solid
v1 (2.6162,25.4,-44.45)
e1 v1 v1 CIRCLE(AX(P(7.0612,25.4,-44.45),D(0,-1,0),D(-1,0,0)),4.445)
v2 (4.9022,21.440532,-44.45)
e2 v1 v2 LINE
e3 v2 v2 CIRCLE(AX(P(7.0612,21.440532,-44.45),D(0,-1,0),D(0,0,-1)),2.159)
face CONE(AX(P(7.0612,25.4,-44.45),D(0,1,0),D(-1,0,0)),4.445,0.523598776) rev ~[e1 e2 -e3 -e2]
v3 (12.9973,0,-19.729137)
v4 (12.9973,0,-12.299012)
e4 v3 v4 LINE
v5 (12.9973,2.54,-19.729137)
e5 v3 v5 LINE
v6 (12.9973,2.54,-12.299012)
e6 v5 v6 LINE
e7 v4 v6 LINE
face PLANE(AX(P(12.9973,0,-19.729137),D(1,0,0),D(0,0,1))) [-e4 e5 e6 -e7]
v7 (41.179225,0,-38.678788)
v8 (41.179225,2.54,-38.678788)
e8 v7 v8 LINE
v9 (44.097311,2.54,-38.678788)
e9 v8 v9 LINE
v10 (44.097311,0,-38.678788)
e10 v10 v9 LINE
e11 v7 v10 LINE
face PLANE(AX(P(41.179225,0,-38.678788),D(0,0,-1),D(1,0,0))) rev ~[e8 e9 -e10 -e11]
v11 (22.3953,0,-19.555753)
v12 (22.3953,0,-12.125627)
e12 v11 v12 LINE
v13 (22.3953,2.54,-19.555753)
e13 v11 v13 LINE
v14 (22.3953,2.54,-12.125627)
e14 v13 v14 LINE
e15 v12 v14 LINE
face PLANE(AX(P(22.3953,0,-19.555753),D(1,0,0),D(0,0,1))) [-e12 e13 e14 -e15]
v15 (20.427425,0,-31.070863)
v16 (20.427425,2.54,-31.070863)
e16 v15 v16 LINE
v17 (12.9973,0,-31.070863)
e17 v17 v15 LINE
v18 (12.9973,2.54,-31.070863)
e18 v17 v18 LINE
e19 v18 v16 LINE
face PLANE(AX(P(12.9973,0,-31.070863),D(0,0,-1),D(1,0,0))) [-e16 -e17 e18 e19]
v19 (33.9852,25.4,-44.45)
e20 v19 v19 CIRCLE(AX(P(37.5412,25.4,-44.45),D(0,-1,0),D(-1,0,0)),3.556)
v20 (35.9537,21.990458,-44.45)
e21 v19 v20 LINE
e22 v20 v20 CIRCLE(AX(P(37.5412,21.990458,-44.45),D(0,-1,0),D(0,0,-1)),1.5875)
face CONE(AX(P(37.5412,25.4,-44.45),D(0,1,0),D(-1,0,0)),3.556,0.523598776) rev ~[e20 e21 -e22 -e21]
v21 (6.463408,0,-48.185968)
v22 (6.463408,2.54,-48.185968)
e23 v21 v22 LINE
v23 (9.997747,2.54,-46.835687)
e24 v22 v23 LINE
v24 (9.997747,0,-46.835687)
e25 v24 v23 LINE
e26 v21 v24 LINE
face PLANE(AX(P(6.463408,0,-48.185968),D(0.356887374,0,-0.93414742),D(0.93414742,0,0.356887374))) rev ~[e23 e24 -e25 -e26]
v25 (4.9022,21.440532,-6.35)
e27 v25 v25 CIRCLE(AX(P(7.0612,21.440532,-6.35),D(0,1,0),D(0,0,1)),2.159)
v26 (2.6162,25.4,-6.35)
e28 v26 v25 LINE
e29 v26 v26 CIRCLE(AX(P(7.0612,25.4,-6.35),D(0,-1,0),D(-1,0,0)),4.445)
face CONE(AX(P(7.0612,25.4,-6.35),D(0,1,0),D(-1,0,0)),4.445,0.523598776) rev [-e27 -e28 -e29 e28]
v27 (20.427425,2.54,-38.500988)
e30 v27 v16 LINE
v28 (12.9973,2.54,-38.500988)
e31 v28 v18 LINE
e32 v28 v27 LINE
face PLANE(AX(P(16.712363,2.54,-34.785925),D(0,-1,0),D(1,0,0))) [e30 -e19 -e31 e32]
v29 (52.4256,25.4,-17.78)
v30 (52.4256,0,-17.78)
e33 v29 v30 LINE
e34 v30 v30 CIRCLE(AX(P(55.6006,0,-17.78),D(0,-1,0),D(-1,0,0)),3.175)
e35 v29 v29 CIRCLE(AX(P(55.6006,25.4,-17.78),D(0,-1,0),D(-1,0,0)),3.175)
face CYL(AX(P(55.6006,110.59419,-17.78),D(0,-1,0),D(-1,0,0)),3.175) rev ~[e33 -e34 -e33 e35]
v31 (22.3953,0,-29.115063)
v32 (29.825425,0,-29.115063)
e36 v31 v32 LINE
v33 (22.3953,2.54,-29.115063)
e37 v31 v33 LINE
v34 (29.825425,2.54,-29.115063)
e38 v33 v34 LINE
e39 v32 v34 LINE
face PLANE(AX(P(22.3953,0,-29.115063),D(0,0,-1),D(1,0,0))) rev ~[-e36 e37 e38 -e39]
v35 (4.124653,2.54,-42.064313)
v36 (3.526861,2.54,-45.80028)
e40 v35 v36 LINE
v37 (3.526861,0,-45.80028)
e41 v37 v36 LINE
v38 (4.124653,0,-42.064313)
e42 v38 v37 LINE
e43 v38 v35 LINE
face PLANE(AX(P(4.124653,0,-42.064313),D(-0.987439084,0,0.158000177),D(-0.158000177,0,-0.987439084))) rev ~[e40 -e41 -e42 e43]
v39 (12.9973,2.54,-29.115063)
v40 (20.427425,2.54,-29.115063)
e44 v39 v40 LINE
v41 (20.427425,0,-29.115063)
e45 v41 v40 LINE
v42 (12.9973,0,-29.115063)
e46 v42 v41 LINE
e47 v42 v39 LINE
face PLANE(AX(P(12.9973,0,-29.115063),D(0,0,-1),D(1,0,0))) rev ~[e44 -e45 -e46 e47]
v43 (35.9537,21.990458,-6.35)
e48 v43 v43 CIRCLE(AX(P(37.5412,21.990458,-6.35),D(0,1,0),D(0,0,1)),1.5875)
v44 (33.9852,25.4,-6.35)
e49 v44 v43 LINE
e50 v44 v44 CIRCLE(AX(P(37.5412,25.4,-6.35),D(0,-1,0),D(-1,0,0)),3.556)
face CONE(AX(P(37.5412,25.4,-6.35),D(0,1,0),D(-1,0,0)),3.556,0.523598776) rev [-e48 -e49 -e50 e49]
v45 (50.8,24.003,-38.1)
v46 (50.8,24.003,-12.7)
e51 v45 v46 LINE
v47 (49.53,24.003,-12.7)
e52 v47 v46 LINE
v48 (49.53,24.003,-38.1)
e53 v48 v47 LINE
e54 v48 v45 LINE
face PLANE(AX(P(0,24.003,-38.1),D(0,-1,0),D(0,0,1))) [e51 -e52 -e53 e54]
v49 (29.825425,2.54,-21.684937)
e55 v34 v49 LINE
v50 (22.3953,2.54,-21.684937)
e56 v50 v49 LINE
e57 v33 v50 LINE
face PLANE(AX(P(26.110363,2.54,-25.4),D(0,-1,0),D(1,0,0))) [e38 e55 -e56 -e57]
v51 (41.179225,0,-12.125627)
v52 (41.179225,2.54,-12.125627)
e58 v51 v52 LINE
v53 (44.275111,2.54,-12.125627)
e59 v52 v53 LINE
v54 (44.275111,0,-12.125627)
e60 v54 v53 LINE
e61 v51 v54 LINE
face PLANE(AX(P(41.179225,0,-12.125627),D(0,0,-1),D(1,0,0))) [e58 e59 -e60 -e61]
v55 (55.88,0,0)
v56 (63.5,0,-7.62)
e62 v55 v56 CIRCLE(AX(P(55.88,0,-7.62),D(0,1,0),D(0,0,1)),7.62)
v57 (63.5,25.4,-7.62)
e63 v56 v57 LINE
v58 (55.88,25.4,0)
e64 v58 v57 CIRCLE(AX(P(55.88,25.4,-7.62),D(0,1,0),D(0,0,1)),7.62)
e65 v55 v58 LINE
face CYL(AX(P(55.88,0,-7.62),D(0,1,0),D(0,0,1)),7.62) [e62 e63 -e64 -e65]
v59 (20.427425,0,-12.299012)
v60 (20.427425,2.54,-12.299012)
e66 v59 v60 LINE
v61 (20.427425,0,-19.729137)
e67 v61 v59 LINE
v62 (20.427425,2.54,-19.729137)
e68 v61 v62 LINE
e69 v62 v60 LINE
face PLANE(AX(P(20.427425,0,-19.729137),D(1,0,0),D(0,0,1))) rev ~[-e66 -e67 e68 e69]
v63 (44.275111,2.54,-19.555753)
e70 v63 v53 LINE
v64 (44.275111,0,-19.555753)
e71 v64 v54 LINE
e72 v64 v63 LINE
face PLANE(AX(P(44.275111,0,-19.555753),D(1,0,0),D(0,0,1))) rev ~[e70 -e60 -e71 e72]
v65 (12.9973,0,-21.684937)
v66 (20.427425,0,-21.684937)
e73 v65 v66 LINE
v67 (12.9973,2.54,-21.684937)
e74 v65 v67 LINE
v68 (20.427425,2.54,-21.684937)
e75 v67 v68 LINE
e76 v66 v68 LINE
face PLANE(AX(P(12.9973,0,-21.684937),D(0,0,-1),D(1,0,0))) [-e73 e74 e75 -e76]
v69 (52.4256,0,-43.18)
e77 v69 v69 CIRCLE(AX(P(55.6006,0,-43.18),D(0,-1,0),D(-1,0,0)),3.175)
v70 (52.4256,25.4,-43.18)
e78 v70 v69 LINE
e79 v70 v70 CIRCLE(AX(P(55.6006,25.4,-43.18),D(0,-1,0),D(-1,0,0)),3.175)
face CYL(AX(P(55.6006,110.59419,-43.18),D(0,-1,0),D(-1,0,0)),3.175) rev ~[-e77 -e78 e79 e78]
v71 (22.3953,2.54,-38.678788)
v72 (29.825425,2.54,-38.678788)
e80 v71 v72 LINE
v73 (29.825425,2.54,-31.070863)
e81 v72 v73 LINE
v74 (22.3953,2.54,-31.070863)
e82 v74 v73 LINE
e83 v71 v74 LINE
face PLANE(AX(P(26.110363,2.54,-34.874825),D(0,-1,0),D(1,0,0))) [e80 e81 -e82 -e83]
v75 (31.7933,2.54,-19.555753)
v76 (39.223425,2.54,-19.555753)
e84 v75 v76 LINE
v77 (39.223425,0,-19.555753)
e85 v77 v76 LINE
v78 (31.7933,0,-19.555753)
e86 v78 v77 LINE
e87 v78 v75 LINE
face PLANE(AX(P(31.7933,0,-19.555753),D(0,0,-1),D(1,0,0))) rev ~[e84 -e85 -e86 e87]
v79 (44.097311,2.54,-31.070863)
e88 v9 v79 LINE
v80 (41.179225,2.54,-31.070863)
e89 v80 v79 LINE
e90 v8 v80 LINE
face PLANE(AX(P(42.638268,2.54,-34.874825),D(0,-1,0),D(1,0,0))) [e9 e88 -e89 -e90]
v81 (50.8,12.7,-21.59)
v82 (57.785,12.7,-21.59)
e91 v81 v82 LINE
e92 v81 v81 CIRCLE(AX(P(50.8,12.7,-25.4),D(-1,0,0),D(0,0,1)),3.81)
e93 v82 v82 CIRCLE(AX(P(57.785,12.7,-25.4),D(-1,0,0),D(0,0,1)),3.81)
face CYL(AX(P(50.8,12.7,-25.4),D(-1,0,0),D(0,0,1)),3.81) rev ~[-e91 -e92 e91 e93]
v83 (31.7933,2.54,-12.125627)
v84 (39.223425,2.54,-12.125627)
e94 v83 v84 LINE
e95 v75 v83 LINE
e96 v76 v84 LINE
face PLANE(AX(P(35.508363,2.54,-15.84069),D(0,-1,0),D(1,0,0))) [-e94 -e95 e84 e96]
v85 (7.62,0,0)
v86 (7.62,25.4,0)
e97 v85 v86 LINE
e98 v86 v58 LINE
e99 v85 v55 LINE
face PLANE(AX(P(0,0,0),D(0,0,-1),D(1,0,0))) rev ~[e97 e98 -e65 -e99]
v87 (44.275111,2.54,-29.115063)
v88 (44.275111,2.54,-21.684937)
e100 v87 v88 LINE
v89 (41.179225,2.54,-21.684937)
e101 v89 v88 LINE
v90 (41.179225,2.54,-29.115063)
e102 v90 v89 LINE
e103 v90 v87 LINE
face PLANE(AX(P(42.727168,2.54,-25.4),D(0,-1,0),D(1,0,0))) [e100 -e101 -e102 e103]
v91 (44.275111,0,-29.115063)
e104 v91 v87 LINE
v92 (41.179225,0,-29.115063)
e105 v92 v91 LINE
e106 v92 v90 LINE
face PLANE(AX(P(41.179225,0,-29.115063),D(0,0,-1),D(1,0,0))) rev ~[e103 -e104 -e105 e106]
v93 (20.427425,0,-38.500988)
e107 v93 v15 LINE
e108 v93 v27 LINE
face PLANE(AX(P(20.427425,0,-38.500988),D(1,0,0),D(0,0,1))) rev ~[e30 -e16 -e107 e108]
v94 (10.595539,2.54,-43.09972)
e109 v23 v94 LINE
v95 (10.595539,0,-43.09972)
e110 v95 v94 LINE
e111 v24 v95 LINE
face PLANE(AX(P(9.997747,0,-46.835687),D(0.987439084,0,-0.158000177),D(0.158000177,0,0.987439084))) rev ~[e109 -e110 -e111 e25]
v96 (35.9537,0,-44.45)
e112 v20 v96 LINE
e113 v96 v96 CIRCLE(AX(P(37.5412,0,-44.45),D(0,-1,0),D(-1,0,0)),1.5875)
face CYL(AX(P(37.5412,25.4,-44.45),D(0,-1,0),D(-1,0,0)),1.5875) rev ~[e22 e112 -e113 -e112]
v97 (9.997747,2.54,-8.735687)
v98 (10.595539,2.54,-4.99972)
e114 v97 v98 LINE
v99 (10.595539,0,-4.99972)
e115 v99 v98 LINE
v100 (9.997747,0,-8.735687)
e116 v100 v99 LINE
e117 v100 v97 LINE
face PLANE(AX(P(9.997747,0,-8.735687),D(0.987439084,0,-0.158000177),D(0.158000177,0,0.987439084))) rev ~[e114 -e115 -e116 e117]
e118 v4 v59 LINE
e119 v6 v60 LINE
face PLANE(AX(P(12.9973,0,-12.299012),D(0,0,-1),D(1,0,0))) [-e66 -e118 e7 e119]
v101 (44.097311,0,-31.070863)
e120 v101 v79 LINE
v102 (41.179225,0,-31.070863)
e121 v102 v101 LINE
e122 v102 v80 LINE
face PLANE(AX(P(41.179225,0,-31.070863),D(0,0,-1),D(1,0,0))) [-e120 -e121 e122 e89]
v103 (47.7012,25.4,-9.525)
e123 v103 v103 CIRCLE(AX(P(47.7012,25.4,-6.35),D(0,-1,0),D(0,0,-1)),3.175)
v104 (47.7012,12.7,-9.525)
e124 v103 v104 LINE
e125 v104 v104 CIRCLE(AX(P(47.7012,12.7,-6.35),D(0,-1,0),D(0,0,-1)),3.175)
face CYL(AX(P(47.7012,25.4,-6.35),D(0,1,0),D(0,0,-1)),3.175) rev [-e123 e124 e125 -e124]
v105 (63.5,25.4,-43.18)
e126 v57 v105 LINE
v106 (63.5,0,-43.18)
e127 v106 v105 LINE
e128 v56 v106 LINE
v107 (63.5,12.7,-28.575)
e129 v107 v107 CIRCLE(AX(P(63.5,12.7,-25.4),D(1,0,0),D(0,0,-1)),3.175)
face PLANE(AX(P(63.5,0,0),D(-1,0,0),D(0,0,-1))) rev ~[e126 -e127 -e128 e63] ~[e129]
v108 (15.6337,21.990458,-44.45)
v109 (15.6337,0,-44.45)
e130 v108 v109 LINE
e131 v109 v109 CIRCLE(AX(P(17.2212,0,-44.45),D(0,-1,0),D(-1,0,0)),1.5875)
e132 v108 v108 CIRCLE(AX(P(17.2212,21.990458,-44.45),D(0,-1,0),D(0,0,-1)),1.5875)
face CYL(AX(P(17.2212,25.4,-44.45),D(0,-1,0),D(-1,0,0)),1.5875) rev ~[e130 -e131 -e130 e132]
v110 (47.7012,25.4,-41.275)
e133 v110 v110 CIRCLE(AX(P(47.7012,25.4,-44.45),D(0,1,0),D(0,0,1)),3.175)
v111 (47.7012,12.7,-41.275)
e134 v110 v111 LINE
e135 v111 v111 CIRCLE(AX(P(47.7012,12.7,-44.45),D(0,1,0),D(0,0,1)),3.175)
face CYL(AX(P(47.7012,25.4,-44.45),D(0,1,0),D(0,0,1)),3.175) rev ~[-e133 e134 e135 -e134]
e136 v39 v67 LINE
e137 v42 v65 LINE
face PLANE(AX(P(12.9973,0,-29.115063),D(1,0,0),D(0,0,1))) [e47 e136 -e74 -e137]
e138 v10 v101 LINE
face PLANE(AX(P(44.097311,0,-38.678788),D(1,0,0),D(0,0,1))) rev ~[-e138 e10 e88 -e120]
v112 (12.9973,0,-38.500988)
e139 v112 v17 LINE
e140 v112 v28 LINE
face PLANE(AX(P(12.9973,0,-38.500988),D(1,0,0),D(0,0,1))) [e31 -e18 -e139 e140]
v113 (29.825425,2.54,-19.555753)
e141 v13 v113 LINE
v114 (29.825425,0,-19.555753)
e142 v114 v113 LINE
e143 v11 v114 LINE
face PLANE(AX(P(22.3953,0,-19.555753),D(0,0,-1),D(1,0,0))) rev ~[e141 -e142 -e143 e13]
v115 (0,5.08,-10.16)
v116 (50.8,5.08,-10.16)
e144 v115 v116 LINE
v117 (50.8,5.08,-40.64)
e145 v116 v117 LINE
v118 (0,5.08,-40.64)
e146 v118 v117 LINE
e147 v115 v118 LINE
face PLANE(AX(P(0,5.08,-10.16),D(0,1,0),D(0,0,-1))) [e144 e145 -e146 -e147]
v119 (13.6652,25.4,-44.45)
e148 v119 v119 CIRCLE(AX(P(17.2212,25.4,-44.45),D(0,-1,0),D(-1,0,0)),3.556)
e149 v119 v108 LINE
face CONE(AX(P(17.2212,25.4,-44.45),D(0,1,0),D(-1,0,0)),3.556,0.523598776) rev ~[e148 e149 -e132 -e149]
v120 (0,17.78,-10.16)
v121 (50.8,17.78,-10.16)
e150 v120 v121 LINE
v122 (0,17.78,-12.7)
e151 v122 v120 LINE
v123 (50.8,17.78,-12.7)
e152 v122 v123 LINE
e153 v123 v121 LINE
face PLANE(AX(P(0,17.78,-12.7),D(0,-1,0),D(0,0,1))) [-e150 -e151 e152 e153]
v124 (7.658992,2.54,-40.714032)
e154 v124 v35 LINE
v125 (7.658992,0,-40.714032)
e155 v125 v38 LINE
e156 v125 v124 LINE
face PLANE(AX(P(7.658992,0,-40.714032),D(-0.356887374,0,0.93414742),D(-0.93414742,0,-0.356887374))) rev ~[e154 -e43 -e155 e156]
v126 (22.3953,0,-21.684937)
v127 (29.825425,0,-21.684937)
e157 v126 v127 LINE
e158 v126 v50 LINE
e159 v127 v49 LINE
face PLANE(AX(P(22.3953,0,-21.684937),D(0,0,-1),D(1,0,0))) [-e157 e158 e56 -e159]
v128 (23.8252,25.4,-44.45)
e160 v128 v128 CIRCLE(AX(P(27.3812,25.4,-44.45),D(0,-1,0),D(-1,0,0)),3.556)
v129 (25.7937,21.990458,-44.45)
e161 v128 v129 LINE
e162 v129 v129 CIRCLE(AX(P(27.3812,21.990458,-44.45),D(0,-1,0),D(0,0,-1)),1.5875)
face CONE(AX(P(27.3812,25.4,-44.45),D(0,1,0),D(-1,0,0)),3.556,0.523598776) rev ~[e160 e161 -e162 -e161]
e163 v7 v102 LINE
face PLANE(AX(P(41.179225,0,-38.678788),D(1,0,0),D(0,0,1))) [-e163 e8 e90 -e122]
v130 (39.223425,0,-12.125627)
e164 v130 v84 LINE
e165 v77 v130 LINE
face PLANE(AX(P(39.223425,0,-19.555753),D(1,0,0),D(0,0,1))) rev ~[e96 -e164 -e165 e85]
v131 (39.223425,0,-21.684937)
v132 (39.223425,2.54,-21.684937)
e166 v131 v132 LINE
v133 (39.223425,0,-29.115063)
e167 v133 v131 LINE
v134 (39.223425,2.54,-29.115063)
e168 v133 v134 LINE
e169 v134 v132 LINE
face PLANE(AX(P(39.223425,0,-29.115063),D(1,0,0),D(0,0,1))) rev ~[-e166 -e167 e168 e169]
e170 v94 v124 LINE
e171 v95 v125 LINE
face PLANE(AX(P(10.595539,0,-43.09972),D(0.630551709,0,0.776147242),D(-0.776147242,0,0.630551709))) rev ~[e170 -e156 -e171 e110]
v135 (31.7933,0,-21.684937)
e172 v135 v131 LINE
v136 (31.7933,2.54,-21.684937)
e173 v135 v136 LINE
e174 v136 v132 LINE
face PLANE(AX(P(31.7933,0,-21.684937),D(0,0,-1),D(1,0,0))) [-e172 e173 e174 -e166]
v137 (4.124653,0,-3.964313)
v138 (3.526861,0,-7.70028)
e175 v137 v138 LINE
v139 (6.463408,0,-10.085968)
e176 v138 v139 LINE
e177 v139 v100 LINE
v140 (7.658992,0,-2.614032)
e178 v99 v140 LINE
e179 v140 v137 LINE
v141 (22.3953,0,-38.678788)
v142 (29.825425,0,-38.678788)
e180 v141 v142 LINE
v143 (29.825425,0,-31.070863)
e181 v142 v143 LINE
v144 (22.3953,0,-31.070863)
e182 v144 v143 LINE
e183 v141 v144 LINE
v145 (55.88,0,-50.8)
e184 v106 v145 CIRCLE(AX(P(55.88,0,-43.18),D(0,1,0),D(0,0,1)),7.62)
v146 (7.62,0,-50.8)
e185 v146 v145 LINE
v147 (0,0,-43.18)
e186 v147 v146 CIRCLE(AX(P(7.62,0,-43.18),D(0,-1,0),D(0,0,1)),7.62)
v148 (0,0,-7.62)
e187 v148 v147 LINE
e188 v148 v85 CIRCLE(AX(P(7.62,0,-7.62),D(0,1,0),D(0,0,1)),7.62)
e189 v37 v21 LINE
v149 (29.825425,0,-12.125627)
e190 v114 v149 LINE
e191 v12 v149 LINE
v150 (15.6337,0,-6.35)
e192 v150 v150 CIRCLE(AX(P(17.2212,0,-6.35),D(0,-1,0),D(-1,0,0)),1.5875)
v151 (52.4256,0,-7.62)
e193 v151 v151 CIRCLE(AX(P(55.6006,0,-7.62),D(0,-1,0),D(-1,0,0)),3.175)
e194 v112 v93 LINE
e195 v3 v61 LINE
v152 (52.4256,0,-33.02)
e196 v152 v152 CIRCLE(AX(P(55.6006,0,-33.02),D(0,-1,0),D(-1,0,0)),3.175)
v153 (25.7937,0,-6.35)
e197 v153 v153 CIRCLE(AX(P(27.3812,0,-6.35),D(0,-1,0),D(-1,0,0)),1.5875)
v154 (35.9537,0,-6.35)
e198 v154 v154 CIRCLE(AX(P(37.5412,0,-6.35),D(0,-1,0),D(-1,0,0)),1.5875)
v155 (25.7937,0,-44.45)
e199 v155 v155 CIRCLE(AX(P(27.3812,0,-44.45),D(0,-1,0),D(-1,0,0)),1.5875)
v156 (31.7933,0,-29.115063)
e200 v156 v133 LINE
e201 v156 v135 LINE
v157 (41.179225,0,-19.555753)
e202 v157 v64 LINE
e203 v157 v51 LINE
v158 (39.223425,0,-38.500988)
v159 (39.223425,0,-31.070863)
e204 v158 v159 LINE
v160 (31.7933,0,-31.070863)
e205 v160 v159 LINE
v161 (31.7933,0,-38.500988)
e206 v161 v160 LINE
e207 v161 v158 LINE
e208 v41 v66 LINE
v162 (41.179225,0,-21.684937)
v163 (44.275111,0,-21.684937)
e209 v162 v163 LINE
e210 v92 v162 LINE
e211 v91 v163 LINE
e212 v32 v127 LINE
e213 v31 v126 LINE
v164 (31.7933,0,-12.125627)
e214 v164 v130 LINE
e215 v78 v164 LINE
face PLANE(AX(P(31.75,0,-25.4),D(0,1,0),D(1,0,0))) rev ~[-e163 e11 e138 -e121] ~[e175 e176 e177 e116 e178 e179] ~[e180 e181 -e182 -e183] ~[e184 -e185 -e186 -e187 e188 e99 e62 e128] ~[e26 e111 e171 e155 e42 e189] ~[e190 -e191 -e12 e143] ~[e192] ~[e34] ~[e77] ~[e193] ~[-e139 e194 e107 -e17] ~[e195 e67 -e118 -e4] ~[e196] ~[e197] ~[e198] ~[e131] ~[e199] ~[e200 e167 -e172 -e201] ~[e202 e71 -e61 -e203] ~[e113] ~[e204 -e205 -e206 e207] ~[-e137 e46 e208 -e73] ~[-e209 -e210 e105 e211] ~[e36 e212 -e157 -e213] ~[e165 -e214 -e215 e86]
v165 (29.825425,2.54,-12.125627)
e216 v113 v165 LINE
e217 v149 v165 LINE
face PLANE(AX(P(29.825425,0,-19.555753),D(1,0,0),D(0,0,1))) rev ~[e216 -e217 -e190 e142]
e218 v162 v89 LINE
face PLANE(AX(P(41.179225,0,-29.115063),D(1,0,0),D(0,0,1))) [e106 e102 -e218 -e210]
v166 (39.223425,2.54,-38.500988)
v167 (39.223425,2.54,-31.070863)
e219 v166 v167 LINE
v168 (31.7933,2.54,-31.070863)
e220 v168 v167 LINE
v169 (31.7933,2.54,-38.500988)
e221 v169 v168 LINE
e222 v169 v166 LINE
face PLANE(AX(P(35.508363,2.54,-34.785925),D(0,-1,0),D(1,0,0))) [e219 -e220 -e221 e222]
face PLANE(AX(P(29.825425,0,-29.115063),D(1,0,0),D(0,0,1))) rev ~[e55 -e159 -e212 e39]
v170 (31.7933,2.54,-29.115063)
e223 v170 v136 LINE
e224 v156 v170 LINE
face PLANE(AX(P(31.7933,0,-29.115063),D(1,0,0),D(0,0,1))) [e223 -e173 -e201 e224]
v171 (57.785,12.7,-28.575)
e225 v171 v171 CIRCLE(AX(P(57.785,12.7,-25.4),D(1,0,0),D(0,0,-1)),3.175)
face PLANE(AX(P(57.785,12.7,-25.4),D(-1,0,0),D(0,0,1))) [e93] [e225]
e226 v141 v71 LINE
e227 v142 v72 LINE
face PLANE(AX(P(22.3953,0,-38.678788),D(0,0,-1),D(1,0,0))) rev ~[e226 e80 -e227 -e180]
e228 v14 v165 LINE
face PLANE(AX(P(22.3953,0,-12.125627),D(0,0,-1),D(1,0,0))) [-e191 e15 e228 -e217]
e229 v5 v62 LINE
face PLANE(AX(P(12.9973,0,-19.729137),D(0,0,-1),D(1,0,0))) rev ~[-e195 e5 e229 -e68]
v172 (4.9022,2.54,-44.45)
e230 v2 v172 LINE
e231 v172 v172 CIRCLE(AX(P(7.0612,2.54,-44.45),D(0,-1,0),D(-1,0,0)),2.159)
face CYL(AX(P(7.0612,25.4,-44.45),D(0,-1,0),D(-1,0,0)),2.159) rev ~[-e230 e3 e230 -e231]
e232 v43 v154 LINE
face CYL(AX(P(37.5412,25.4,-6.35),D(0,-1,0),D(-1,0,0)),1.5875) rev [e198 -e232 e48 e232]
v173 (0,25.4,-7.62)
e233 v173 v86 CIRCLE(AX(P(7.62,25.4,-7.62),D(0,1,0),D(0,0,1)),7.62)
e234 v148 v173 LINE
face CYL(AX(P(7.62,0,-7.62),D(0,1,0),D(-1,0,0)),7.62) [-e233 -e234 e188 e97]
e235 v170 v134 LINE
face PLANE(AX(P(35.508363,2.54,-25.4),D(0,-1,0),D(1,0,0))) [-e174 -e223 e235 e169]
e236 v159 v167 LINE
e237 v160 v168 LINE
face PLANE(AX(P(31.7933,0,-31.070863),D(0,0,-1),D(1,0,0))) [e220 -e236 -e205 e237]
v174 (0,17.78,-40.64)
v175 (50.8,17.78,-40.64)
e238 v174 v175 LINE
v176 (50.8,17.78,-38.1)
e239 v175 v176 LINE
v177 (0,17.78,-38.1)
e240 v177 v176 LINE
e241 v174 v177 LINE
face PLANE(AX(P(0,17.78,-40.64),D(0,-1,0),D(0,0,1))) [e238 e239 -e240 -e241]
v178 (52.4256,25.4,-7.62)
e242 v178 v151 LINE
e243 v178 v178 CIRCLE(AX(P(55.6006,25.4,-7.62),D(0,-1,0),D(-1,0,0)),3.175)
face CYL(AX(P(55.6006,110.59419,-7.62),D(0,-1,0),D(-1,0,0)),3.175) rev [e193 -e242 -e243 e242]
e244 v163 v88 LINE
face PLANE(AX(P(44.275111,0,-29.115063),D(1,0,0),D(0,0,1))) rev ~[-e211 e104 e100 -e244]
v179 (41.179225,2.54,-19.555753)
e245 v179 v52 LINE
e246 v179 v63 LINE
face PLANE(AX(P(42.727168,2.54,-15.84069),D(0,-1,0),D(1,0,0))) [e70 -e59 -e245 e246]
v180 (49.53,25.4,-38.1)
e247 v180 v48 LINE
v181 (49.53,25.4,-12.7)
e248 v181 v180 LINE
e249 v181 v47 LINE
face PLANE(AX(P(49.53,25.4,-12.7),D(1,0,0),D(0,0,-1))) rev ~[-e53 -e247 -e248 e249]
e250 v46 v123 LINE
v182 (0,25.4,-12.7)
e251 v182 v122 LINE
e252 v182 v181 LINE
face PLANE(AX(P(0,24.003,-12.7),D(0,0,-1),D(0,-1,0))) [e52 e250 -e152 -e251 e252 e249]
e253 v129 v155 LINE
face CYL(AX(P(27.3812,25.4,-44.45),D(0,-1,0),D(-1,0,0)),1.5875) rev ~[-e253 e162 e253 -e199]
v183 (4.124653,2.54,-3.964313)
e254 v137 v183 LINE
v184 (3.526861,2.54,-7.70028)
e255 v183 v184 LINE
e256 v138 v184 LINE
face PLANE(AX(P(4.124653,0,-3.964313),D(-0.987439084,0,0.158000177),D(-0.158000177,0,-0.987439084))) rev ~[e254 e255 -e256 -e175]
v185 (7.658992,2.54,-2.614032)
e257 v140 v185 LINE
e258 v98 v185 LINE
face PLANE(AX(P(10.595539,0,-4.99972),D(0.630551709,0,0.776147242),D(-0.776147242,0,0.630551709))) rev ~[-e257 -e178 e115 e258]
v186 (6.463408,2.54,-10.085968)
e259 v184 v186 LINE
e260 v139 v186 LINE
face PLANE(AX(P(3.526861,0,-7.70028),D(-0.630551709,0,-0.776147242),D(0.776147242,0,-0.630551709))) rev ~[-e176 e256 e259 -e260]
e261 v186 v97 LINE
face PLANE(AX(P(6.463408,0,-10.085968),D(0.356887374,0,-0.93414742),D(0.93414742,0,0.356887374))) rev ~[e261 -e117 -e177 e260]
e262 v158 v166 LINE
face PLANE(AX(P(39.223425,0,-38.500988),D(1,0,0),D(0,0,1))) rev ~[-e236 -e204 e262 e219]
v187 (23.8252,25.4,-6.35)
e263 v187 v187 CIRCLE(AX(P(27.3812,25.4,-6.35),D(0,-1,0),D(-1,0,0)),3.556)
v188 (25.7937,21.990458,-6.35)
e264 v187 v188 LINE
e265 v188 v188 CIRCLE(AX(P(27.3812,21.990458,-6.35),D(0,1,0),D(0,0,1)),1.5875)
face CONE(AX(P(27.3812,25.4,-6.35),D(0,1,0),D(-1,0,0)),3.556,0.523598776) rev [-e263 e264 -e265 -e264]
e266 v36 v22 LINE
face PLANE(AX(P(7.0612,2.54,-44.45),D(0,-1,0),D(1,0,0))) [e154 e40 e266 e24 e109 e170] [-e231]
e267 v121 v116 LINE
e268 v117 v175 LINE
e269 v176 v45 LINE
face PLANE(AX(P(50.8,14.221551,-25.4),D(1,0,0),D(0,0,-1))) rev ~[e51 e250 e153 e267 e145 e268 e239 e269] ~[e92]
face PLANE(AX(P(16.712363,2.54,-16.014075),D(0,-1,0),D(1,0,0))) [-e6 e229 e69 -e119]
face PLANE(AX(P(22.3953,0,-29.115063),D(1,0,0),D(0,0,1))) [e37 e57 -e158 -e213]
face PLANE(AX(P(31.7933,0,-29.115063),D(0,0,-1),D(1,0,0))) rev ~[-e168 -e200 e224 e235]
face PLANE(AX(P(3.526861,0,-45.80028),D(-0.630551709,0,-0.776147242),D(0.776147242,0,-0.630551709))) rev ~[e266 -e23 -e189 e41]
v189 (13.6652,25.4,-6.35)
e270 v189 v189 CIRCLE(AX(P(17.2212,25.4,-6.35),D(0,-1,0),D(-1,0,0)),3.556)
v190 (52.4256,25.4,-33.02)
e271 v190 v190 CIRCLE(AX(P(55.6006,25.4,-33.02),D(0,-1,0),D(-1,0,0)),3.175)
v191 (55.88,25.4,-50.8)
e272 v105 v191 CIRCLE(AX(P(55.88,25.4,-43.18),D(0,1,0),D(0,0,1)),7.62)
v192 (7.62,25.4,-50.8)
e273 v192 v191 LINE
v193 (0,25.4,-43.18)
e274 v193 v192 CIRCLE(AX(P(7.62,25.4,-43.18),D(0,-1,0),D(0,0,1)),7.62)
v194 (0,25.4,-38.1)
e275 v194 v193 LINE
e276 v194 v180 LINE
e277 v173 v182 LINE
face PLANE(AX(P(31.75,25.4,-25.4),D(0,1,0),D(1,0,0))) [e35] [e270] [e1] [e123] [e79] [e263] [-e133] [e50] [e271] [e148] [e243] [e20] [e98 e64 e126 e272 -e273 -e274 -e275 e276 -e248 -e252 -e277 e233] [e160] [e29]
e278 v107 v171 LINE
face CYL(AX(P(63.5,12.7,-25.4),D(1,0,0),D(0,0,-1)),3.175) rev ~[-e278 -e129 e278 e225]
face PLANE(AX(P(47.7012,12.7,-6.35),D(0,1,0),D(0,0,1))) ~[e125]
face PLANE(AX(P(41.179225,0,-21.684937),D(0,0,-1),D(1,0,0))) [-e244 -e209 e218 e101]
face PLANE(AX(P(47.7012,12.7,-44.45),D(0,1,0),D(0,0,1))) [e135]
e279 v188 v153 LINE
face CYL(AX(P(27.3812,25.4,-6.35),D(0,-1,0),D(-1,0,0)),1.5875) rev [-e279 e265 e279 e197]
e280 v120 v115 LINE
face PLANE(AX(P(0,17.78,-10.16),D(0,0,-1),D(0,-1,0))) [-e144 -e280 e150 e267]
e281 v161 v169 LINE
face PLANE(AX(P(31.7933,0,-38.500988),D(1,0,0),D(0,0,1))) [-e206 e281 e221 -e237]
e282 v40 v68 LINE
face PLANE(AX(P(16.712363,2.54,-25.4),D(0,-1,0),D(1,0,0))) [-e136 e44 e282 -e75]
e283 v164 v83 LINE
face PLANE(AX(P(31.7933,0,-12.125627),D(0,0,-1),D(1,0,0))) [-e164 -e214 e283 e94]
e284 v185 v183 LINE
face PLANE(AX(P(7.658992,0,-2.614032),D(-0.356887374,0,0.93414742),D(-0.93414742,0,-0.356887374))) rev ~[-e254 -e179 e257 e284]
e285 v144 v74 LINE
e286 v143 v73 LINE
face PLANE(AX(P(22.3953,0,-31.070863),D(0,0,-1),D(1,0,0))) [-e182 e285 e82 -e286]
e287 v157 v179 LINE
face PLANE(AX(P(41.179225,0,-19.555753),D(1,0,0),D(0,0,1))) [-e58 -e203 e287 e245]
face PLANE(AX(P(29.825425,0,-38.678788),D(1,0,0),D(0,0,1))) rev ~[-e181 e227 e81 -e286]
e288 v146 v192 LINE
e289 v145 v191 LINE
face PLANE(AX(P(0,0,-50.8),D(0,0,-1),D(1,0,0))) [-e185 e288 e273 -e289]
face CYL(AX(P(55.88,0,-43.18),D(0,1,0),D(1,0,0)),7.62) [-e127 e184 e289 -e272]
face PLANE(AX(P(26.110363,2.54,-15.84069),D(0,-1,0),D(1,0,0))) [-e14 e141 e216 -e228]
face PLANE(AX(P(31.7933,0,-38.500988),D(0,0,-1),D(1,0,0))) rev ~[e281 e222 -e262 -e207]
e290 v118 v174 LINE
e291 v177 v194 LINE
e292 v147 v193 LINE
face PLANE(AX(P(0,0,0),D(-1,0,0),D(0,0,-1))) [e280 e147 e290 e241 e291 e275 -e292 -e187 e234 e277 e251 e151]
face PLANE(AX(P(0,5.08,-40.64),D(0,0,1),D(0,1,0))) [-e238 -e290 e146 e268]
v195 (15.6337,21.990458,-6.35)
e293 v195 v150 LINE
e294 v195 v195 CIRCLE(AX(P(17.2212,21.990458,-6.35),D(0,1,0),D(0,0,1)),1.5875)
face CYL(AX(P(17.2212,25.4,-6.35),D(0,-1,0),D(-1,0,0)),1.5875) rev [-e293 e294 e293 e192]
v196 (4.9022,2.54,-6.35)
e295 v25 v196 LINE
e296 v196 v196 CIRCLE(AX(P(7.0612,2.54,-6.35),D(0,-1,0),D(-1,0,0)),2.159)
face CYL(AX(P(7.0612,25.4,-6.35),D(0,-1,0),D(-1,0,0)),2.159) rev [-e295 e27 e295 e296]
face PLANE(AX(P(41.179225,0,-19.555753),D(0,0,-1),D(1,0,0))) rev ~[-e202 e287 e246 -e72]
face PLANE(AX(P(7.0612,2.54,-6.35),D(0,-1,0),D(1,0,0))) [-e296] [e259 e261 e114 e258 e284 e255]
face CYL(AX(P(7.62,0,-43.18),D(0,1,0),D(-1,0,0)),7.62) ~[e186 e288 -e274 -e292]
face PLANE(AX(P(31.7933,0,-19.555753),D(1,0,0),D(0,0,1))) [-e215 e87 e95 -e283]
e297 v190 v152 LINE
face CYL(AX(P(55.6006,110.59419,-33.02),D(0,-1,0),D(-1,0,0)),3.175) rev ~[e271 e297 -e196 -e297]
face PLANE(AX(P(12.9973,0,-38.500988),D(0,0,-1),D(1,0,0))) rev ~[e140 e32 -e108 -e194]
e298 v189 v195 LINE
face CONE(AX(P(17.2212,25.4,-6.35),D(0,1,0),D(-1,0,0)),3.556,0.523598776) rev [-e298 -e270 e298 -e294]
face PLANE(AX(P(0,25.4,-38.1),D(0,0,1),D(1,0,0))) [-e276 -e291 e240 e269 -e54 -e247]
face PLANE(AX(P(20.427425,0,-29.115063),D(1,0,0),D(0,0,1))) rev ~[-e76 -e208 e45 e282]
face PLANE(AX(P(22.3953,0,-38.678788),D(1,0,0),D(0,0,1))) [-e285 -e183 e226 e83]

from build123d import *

# Parameters (mm, degrees)
SKETCH1_W                                         = 63.5
SKETCH1_H                                         = 50.8
BOSS_EXTRUDE1_DEPTH                               = 25.4
FILLET1_R                                         = 7.62
CUT_EXTRUDE1_DEPTH                                = 50.8
SKETCH4_W                                         = 49.53
SKETCH4_H                                         = 25.4
CUT_EXTRUDE2_DEPTH                                = 13.462
CSK_FOR_2_FLAT_HEAD_MACHINE_SCREW_100_D           = 4.318
CSK_FOR_2_FLAT_HEAD_MACHINE_SCREW_100_CSINK_D     = 8.89
CSK_FOR_2_FLAT_HEAD_MACHINE_SCREW_100_CSINK_ANGLE = 60
CSK_FOR_2_FLAT_HEAD_MACHINE_SCREW_2_D             = 3.175
CSK_FOR_2_FLAT_HEAD_MACHINE_SCREW_2_CSINK_D       = 7.112
CSK_FOR_2_FLAT_HEAD_MACHINE_SCREW_2_CSINK_ANGLE   = 60
SKETCH9_R                                         = 3.175
CUT_EXTRUDE3_DEPTH                                = 12.7
F_1_4_0_25_DIAMETER_HOLE1_D                       = 6.35
F_1_4_0_25_DIAMETER_HOLE2_D                       = 6.35
CUT_EXTRUDE4_DEPTH                                = 2.54
SKETCH15_W                                        = 3.09588561
SKETCH15_H                                        = 7.430125466
SKETCH15_W_2                                      = 7.430125466
SKETCH15_H_2                                      = 7.430125465
SKETCH15_W_3                                      = 2.91808561
SKETCH15_H_3                                      = 7.607925465
CUT_EXTRUDE5_DEPTH                                = 2.54
SKETCH16_R                                        = 3.175
CUT_EXTRUDE8_DEPTH                                = 6.985
SKETCH17_R                                        = 3.81
CUT_EXTRUDE9_DEPTH                                = 6.985


with BuildPart() as part:
    # Sketch1 → Boss-Extrude1 (new body)
    with BuildSketch(Plane(origin=(0, 0, 0), x_dir=(1, 0, 0), z_dir=(0, 1, 0))):
        with Locations((31.75, 25.4)):
            Rectangle(SKETCH1_W, SKETCH1_H)
    extrude(amount=BOSS_EXTRUDE1_DEPTH)

    # Fillet1
    fillet1_edges = [part.edges().sort_by_distance(p)[0] for p in [
        (0, 12.7, -50.8),
        (63.5, 12.7, -50.8),
        (63.5, 12.7, 0),
        (0, 12.7, 0),
    ]]
    fillet(fillet1_edges, radius=FILLET1_R)

    # Sketch2 → Cut-Extrude1 (cut)
    with BuildSketch(Plane.ZY):
        Polygon((-38.1, 24.003), (-12.7, 24.003), (-12.7, 17.78), (-10.16, 17.78), (-10.16, 5.08), (-40.64, 5.08), (-40.64, 17.78), (-38.1, 17.78), align=None)
    extrude(amount=-CUT_EXTRUDE1_DEPTH, mode=Mode.SUBTRACT)

    # Sketch4 → Cut-Extrude2 (cut)
    with BuildSketch(Plane(origin=(0, 25.4, 0), x_dir=(1, 0, 0), z_dir=(0, 1, 0))):
        with Locations((24.765, 25.4)):
            Rectangle(SKETCH4_W, SKETCH4_H)
    extrude(amount=-CUT_EXTRUDE2_DEPTH, mode=Mode.SUBTRACT)

    # CSK for _2 Flat Head Machine Screw _100 (through all)
    with Locations(Plane(origin=(0, 25.4, 0), x_dir=(1, 0, 0), z_dir=(0, 1, 0))):
        with Locations((7.0612, 44.45)):
            csk_for_2_flat_head_machine_screw_100 = CounterSinkHole(CSK_FOR_2_FLAT_HEAD_MACHINE_SCREW_100_D / 2, CSK_FOR_2_FLAT_HEAD_MACHINE_SCREW_100_CSINK_D / 2, counter_sink_angle=CSK_FOR_2_FLAT_HEAD_MACHINE_SCREW_100_CSINK_ANGLE)

    # CSK for _2 Flat Head Machine Screw _ 2 (through all)
    with Locations(Plane(origin=(0, 25.4, 0), x_dir=(1, 0, 0), z_dir=(0, 1, 0))):
        with Locations((17.2212, 44.45), (27.3812, 44.45), (37.5412, 44.45)):
            csk_for_2_flat_head_machine_screw_2 = CounterSinkHole(CSK_FOR_2_FLAT_HEAD_MACHINE_SCREW_2_D / 2, CSK_FOR_2_FLAT_HEAD_MACHINE_SCREW_2_CSINK_D / 2, counter_sink_angle=CSK_FOR_2_FLAT_HEAD_MACHINE_SCREW_2_CSINK_ANGLE)

    # Sketch9 → Cut-Extrude3 (cut)
    with BuildSketch(Plane(origin=(0, 25.4, 0), x_dir=(1, 0, 0), z_dir=(0, 1, 0))):
        with Locations(Location((47.7012, 44.45, 0), (0, 0, 270))):
            Circle(SKETCH9_R)
    cut_extrude3 = extrude(amount=-CUT_EXTRUDE3_DEPTH, mode=Mode.SUBTRACT)

    # 1/4 (0.25) Diameter Hole1 (through all)
    with Locations(Plane(origin=(0, 25.4, 0), x_dir=(1, 0, 0), z_dir=(0, 1, 0))):
        with Locations((55.6006, 43.18)):
            f_1_4_0_25_diameter_hole1 = Hole(F_1_4_0_25_DIAMETER_HOLE1_D / 2)

    # Mirror1: CSK for _2 Flat Head Machine Screw _100, CSK for _2 Flat Head Machine Screw _ 2, Cut-Extrude3, 1/4 (0.25) Diameter Hole1 across plane
    add(csk_for_2_flat_head_machine_screw_100.mirror(Plane.XY.offset(-25.4)), mode=Mode.SUBTRACT)
    add(csk_for_2_flat_head_machine_screw_2.mirror(Plane.XY.offset(-25.4)), mode=Mode.SUBTRACT)
    add(cut_extrude3.mirror(Plane.XY.offset(-25.4)), mode=Mode.SUBTRACT)
    add(f_1_4_0_25_diameter_hole1.mirror(Plane.XY.offset(-25.4)), mode=Mode.SUBTRACT)

    # 1/4 (0.25) Diameter Hole2 (through all)
    with Locations(Plane(origin=(0, 25.4, 0), x_dir=(1, 0, 0), z_dir=(0, 1, 0))):
        with Locations((55.6006, 33.02), (55.6006, 17.78)):
            Hole(F_1_4_0_25_DIAMETER_HOLE2_D / 2)

    # Sketch14 → Cut-Extrude4 (cut)
    with BuildSketch(Plane.XZ):
        Polygon((9.997746715, -8.735687211), (10.595539088, -4.999719551), (7.658992373, -2.61403234), (4.124653285, -3.964312789), (3.526860912, -7.700280449), (6.463407627, -10.08596766), align=None)
        Polygon((7.658992373, -40.71403234), (4.124653285, -42.064312789), (3.526860912, -45.800280449), (6.463407627, -48.18596766), (9.997746715, -46.835687211), (10.595539088, -43.099719551), align=None)
    extrude(amount=-CUT_EXTRUDE4_DEPTH, mode=Mode.SUBTRACT)

    # Sketch15 → Cut-Extrude5 (cut)
    with BuildSketch(Plane.XZ):
        with Locations((42.72716817, -25.4)):
            Rectangle(SKETCH15_W, SKETCH15_H)
        with Locations((35.508362632, -25.4)):
            Rectangle(SKETCH15_W_2, SKETCH15_H)
        with Locations((26.110362632, -25.4)):
            Rectangle(SKETCH15_W_2, SKETCH15_H)
        with Locations((16.712362632, -25.4)):
            Rectangle(SKETCH15_W_2, SKETCH15_H)
        with Locations((42.72716817, -15.840689934)):
            Rectangle(SKETCH15_W, SKETCH15_H)
        with Locations((16.712362632, -16.014074535)):
            Rectangle(SKETCH15_W_2, SKETCH15_H_2)
        with Locations((35.508362632, -15.840689934)):
            Rectangle(SKETCH15_W_2, SKETCH15_H)
        with Locations((26.110362632, -15.840689934)):
            Rectangle(SKETCH15_W_2, SKETCH15_H)
        with Locations((35.508362632, -34.785925466)):
            Rectangle(SKETCH15_W_2, SKETCH15_H_2)
        with Locations((42.63826817, -34.874825466)):
            Rectangle(SKETCH15_W_3, SKETCH15_H_3)
        with Locations((26.110362632, -34.874825466)):
            Rectangle(SKETCH15_W_2, SKETCH15_H_3)
        with Locations((16.712362632, -34.785925466)):
            Rectangle(SKETCH15_W_2, SKETCH15_H_2)
    extrude(amount=-CUT_EXTRUDE5_DEPTH, mode=Mode.SUBTRACT)

    # Sketch16 → Cut-Extrude8 (cut)
    with BuildSketch(Plane(origin=(63.5, 0, 0), x_dir=(0, 0, -1), z_dir=(1, 0, 0))):
        with Locations((25.4, 12.7)):
            Circle(SKETCH16_R)
    extrude(amount=-CUT_EXTRUDE8_DEPTH, mode=Mode.SUBTRACT)

    # Sketch17 → Cut-Extrude9 (cut)
    with BuildSketch(Plane.ZY.offset(-50.8)):
        with Locations((-25.4, 12.7)):
            Circle(SKETCH17_R)
    extrude(amount=-CUT_EXTRUDE9_DEPTH, mode=Mode.SUBTRACT)


solid = part.part
